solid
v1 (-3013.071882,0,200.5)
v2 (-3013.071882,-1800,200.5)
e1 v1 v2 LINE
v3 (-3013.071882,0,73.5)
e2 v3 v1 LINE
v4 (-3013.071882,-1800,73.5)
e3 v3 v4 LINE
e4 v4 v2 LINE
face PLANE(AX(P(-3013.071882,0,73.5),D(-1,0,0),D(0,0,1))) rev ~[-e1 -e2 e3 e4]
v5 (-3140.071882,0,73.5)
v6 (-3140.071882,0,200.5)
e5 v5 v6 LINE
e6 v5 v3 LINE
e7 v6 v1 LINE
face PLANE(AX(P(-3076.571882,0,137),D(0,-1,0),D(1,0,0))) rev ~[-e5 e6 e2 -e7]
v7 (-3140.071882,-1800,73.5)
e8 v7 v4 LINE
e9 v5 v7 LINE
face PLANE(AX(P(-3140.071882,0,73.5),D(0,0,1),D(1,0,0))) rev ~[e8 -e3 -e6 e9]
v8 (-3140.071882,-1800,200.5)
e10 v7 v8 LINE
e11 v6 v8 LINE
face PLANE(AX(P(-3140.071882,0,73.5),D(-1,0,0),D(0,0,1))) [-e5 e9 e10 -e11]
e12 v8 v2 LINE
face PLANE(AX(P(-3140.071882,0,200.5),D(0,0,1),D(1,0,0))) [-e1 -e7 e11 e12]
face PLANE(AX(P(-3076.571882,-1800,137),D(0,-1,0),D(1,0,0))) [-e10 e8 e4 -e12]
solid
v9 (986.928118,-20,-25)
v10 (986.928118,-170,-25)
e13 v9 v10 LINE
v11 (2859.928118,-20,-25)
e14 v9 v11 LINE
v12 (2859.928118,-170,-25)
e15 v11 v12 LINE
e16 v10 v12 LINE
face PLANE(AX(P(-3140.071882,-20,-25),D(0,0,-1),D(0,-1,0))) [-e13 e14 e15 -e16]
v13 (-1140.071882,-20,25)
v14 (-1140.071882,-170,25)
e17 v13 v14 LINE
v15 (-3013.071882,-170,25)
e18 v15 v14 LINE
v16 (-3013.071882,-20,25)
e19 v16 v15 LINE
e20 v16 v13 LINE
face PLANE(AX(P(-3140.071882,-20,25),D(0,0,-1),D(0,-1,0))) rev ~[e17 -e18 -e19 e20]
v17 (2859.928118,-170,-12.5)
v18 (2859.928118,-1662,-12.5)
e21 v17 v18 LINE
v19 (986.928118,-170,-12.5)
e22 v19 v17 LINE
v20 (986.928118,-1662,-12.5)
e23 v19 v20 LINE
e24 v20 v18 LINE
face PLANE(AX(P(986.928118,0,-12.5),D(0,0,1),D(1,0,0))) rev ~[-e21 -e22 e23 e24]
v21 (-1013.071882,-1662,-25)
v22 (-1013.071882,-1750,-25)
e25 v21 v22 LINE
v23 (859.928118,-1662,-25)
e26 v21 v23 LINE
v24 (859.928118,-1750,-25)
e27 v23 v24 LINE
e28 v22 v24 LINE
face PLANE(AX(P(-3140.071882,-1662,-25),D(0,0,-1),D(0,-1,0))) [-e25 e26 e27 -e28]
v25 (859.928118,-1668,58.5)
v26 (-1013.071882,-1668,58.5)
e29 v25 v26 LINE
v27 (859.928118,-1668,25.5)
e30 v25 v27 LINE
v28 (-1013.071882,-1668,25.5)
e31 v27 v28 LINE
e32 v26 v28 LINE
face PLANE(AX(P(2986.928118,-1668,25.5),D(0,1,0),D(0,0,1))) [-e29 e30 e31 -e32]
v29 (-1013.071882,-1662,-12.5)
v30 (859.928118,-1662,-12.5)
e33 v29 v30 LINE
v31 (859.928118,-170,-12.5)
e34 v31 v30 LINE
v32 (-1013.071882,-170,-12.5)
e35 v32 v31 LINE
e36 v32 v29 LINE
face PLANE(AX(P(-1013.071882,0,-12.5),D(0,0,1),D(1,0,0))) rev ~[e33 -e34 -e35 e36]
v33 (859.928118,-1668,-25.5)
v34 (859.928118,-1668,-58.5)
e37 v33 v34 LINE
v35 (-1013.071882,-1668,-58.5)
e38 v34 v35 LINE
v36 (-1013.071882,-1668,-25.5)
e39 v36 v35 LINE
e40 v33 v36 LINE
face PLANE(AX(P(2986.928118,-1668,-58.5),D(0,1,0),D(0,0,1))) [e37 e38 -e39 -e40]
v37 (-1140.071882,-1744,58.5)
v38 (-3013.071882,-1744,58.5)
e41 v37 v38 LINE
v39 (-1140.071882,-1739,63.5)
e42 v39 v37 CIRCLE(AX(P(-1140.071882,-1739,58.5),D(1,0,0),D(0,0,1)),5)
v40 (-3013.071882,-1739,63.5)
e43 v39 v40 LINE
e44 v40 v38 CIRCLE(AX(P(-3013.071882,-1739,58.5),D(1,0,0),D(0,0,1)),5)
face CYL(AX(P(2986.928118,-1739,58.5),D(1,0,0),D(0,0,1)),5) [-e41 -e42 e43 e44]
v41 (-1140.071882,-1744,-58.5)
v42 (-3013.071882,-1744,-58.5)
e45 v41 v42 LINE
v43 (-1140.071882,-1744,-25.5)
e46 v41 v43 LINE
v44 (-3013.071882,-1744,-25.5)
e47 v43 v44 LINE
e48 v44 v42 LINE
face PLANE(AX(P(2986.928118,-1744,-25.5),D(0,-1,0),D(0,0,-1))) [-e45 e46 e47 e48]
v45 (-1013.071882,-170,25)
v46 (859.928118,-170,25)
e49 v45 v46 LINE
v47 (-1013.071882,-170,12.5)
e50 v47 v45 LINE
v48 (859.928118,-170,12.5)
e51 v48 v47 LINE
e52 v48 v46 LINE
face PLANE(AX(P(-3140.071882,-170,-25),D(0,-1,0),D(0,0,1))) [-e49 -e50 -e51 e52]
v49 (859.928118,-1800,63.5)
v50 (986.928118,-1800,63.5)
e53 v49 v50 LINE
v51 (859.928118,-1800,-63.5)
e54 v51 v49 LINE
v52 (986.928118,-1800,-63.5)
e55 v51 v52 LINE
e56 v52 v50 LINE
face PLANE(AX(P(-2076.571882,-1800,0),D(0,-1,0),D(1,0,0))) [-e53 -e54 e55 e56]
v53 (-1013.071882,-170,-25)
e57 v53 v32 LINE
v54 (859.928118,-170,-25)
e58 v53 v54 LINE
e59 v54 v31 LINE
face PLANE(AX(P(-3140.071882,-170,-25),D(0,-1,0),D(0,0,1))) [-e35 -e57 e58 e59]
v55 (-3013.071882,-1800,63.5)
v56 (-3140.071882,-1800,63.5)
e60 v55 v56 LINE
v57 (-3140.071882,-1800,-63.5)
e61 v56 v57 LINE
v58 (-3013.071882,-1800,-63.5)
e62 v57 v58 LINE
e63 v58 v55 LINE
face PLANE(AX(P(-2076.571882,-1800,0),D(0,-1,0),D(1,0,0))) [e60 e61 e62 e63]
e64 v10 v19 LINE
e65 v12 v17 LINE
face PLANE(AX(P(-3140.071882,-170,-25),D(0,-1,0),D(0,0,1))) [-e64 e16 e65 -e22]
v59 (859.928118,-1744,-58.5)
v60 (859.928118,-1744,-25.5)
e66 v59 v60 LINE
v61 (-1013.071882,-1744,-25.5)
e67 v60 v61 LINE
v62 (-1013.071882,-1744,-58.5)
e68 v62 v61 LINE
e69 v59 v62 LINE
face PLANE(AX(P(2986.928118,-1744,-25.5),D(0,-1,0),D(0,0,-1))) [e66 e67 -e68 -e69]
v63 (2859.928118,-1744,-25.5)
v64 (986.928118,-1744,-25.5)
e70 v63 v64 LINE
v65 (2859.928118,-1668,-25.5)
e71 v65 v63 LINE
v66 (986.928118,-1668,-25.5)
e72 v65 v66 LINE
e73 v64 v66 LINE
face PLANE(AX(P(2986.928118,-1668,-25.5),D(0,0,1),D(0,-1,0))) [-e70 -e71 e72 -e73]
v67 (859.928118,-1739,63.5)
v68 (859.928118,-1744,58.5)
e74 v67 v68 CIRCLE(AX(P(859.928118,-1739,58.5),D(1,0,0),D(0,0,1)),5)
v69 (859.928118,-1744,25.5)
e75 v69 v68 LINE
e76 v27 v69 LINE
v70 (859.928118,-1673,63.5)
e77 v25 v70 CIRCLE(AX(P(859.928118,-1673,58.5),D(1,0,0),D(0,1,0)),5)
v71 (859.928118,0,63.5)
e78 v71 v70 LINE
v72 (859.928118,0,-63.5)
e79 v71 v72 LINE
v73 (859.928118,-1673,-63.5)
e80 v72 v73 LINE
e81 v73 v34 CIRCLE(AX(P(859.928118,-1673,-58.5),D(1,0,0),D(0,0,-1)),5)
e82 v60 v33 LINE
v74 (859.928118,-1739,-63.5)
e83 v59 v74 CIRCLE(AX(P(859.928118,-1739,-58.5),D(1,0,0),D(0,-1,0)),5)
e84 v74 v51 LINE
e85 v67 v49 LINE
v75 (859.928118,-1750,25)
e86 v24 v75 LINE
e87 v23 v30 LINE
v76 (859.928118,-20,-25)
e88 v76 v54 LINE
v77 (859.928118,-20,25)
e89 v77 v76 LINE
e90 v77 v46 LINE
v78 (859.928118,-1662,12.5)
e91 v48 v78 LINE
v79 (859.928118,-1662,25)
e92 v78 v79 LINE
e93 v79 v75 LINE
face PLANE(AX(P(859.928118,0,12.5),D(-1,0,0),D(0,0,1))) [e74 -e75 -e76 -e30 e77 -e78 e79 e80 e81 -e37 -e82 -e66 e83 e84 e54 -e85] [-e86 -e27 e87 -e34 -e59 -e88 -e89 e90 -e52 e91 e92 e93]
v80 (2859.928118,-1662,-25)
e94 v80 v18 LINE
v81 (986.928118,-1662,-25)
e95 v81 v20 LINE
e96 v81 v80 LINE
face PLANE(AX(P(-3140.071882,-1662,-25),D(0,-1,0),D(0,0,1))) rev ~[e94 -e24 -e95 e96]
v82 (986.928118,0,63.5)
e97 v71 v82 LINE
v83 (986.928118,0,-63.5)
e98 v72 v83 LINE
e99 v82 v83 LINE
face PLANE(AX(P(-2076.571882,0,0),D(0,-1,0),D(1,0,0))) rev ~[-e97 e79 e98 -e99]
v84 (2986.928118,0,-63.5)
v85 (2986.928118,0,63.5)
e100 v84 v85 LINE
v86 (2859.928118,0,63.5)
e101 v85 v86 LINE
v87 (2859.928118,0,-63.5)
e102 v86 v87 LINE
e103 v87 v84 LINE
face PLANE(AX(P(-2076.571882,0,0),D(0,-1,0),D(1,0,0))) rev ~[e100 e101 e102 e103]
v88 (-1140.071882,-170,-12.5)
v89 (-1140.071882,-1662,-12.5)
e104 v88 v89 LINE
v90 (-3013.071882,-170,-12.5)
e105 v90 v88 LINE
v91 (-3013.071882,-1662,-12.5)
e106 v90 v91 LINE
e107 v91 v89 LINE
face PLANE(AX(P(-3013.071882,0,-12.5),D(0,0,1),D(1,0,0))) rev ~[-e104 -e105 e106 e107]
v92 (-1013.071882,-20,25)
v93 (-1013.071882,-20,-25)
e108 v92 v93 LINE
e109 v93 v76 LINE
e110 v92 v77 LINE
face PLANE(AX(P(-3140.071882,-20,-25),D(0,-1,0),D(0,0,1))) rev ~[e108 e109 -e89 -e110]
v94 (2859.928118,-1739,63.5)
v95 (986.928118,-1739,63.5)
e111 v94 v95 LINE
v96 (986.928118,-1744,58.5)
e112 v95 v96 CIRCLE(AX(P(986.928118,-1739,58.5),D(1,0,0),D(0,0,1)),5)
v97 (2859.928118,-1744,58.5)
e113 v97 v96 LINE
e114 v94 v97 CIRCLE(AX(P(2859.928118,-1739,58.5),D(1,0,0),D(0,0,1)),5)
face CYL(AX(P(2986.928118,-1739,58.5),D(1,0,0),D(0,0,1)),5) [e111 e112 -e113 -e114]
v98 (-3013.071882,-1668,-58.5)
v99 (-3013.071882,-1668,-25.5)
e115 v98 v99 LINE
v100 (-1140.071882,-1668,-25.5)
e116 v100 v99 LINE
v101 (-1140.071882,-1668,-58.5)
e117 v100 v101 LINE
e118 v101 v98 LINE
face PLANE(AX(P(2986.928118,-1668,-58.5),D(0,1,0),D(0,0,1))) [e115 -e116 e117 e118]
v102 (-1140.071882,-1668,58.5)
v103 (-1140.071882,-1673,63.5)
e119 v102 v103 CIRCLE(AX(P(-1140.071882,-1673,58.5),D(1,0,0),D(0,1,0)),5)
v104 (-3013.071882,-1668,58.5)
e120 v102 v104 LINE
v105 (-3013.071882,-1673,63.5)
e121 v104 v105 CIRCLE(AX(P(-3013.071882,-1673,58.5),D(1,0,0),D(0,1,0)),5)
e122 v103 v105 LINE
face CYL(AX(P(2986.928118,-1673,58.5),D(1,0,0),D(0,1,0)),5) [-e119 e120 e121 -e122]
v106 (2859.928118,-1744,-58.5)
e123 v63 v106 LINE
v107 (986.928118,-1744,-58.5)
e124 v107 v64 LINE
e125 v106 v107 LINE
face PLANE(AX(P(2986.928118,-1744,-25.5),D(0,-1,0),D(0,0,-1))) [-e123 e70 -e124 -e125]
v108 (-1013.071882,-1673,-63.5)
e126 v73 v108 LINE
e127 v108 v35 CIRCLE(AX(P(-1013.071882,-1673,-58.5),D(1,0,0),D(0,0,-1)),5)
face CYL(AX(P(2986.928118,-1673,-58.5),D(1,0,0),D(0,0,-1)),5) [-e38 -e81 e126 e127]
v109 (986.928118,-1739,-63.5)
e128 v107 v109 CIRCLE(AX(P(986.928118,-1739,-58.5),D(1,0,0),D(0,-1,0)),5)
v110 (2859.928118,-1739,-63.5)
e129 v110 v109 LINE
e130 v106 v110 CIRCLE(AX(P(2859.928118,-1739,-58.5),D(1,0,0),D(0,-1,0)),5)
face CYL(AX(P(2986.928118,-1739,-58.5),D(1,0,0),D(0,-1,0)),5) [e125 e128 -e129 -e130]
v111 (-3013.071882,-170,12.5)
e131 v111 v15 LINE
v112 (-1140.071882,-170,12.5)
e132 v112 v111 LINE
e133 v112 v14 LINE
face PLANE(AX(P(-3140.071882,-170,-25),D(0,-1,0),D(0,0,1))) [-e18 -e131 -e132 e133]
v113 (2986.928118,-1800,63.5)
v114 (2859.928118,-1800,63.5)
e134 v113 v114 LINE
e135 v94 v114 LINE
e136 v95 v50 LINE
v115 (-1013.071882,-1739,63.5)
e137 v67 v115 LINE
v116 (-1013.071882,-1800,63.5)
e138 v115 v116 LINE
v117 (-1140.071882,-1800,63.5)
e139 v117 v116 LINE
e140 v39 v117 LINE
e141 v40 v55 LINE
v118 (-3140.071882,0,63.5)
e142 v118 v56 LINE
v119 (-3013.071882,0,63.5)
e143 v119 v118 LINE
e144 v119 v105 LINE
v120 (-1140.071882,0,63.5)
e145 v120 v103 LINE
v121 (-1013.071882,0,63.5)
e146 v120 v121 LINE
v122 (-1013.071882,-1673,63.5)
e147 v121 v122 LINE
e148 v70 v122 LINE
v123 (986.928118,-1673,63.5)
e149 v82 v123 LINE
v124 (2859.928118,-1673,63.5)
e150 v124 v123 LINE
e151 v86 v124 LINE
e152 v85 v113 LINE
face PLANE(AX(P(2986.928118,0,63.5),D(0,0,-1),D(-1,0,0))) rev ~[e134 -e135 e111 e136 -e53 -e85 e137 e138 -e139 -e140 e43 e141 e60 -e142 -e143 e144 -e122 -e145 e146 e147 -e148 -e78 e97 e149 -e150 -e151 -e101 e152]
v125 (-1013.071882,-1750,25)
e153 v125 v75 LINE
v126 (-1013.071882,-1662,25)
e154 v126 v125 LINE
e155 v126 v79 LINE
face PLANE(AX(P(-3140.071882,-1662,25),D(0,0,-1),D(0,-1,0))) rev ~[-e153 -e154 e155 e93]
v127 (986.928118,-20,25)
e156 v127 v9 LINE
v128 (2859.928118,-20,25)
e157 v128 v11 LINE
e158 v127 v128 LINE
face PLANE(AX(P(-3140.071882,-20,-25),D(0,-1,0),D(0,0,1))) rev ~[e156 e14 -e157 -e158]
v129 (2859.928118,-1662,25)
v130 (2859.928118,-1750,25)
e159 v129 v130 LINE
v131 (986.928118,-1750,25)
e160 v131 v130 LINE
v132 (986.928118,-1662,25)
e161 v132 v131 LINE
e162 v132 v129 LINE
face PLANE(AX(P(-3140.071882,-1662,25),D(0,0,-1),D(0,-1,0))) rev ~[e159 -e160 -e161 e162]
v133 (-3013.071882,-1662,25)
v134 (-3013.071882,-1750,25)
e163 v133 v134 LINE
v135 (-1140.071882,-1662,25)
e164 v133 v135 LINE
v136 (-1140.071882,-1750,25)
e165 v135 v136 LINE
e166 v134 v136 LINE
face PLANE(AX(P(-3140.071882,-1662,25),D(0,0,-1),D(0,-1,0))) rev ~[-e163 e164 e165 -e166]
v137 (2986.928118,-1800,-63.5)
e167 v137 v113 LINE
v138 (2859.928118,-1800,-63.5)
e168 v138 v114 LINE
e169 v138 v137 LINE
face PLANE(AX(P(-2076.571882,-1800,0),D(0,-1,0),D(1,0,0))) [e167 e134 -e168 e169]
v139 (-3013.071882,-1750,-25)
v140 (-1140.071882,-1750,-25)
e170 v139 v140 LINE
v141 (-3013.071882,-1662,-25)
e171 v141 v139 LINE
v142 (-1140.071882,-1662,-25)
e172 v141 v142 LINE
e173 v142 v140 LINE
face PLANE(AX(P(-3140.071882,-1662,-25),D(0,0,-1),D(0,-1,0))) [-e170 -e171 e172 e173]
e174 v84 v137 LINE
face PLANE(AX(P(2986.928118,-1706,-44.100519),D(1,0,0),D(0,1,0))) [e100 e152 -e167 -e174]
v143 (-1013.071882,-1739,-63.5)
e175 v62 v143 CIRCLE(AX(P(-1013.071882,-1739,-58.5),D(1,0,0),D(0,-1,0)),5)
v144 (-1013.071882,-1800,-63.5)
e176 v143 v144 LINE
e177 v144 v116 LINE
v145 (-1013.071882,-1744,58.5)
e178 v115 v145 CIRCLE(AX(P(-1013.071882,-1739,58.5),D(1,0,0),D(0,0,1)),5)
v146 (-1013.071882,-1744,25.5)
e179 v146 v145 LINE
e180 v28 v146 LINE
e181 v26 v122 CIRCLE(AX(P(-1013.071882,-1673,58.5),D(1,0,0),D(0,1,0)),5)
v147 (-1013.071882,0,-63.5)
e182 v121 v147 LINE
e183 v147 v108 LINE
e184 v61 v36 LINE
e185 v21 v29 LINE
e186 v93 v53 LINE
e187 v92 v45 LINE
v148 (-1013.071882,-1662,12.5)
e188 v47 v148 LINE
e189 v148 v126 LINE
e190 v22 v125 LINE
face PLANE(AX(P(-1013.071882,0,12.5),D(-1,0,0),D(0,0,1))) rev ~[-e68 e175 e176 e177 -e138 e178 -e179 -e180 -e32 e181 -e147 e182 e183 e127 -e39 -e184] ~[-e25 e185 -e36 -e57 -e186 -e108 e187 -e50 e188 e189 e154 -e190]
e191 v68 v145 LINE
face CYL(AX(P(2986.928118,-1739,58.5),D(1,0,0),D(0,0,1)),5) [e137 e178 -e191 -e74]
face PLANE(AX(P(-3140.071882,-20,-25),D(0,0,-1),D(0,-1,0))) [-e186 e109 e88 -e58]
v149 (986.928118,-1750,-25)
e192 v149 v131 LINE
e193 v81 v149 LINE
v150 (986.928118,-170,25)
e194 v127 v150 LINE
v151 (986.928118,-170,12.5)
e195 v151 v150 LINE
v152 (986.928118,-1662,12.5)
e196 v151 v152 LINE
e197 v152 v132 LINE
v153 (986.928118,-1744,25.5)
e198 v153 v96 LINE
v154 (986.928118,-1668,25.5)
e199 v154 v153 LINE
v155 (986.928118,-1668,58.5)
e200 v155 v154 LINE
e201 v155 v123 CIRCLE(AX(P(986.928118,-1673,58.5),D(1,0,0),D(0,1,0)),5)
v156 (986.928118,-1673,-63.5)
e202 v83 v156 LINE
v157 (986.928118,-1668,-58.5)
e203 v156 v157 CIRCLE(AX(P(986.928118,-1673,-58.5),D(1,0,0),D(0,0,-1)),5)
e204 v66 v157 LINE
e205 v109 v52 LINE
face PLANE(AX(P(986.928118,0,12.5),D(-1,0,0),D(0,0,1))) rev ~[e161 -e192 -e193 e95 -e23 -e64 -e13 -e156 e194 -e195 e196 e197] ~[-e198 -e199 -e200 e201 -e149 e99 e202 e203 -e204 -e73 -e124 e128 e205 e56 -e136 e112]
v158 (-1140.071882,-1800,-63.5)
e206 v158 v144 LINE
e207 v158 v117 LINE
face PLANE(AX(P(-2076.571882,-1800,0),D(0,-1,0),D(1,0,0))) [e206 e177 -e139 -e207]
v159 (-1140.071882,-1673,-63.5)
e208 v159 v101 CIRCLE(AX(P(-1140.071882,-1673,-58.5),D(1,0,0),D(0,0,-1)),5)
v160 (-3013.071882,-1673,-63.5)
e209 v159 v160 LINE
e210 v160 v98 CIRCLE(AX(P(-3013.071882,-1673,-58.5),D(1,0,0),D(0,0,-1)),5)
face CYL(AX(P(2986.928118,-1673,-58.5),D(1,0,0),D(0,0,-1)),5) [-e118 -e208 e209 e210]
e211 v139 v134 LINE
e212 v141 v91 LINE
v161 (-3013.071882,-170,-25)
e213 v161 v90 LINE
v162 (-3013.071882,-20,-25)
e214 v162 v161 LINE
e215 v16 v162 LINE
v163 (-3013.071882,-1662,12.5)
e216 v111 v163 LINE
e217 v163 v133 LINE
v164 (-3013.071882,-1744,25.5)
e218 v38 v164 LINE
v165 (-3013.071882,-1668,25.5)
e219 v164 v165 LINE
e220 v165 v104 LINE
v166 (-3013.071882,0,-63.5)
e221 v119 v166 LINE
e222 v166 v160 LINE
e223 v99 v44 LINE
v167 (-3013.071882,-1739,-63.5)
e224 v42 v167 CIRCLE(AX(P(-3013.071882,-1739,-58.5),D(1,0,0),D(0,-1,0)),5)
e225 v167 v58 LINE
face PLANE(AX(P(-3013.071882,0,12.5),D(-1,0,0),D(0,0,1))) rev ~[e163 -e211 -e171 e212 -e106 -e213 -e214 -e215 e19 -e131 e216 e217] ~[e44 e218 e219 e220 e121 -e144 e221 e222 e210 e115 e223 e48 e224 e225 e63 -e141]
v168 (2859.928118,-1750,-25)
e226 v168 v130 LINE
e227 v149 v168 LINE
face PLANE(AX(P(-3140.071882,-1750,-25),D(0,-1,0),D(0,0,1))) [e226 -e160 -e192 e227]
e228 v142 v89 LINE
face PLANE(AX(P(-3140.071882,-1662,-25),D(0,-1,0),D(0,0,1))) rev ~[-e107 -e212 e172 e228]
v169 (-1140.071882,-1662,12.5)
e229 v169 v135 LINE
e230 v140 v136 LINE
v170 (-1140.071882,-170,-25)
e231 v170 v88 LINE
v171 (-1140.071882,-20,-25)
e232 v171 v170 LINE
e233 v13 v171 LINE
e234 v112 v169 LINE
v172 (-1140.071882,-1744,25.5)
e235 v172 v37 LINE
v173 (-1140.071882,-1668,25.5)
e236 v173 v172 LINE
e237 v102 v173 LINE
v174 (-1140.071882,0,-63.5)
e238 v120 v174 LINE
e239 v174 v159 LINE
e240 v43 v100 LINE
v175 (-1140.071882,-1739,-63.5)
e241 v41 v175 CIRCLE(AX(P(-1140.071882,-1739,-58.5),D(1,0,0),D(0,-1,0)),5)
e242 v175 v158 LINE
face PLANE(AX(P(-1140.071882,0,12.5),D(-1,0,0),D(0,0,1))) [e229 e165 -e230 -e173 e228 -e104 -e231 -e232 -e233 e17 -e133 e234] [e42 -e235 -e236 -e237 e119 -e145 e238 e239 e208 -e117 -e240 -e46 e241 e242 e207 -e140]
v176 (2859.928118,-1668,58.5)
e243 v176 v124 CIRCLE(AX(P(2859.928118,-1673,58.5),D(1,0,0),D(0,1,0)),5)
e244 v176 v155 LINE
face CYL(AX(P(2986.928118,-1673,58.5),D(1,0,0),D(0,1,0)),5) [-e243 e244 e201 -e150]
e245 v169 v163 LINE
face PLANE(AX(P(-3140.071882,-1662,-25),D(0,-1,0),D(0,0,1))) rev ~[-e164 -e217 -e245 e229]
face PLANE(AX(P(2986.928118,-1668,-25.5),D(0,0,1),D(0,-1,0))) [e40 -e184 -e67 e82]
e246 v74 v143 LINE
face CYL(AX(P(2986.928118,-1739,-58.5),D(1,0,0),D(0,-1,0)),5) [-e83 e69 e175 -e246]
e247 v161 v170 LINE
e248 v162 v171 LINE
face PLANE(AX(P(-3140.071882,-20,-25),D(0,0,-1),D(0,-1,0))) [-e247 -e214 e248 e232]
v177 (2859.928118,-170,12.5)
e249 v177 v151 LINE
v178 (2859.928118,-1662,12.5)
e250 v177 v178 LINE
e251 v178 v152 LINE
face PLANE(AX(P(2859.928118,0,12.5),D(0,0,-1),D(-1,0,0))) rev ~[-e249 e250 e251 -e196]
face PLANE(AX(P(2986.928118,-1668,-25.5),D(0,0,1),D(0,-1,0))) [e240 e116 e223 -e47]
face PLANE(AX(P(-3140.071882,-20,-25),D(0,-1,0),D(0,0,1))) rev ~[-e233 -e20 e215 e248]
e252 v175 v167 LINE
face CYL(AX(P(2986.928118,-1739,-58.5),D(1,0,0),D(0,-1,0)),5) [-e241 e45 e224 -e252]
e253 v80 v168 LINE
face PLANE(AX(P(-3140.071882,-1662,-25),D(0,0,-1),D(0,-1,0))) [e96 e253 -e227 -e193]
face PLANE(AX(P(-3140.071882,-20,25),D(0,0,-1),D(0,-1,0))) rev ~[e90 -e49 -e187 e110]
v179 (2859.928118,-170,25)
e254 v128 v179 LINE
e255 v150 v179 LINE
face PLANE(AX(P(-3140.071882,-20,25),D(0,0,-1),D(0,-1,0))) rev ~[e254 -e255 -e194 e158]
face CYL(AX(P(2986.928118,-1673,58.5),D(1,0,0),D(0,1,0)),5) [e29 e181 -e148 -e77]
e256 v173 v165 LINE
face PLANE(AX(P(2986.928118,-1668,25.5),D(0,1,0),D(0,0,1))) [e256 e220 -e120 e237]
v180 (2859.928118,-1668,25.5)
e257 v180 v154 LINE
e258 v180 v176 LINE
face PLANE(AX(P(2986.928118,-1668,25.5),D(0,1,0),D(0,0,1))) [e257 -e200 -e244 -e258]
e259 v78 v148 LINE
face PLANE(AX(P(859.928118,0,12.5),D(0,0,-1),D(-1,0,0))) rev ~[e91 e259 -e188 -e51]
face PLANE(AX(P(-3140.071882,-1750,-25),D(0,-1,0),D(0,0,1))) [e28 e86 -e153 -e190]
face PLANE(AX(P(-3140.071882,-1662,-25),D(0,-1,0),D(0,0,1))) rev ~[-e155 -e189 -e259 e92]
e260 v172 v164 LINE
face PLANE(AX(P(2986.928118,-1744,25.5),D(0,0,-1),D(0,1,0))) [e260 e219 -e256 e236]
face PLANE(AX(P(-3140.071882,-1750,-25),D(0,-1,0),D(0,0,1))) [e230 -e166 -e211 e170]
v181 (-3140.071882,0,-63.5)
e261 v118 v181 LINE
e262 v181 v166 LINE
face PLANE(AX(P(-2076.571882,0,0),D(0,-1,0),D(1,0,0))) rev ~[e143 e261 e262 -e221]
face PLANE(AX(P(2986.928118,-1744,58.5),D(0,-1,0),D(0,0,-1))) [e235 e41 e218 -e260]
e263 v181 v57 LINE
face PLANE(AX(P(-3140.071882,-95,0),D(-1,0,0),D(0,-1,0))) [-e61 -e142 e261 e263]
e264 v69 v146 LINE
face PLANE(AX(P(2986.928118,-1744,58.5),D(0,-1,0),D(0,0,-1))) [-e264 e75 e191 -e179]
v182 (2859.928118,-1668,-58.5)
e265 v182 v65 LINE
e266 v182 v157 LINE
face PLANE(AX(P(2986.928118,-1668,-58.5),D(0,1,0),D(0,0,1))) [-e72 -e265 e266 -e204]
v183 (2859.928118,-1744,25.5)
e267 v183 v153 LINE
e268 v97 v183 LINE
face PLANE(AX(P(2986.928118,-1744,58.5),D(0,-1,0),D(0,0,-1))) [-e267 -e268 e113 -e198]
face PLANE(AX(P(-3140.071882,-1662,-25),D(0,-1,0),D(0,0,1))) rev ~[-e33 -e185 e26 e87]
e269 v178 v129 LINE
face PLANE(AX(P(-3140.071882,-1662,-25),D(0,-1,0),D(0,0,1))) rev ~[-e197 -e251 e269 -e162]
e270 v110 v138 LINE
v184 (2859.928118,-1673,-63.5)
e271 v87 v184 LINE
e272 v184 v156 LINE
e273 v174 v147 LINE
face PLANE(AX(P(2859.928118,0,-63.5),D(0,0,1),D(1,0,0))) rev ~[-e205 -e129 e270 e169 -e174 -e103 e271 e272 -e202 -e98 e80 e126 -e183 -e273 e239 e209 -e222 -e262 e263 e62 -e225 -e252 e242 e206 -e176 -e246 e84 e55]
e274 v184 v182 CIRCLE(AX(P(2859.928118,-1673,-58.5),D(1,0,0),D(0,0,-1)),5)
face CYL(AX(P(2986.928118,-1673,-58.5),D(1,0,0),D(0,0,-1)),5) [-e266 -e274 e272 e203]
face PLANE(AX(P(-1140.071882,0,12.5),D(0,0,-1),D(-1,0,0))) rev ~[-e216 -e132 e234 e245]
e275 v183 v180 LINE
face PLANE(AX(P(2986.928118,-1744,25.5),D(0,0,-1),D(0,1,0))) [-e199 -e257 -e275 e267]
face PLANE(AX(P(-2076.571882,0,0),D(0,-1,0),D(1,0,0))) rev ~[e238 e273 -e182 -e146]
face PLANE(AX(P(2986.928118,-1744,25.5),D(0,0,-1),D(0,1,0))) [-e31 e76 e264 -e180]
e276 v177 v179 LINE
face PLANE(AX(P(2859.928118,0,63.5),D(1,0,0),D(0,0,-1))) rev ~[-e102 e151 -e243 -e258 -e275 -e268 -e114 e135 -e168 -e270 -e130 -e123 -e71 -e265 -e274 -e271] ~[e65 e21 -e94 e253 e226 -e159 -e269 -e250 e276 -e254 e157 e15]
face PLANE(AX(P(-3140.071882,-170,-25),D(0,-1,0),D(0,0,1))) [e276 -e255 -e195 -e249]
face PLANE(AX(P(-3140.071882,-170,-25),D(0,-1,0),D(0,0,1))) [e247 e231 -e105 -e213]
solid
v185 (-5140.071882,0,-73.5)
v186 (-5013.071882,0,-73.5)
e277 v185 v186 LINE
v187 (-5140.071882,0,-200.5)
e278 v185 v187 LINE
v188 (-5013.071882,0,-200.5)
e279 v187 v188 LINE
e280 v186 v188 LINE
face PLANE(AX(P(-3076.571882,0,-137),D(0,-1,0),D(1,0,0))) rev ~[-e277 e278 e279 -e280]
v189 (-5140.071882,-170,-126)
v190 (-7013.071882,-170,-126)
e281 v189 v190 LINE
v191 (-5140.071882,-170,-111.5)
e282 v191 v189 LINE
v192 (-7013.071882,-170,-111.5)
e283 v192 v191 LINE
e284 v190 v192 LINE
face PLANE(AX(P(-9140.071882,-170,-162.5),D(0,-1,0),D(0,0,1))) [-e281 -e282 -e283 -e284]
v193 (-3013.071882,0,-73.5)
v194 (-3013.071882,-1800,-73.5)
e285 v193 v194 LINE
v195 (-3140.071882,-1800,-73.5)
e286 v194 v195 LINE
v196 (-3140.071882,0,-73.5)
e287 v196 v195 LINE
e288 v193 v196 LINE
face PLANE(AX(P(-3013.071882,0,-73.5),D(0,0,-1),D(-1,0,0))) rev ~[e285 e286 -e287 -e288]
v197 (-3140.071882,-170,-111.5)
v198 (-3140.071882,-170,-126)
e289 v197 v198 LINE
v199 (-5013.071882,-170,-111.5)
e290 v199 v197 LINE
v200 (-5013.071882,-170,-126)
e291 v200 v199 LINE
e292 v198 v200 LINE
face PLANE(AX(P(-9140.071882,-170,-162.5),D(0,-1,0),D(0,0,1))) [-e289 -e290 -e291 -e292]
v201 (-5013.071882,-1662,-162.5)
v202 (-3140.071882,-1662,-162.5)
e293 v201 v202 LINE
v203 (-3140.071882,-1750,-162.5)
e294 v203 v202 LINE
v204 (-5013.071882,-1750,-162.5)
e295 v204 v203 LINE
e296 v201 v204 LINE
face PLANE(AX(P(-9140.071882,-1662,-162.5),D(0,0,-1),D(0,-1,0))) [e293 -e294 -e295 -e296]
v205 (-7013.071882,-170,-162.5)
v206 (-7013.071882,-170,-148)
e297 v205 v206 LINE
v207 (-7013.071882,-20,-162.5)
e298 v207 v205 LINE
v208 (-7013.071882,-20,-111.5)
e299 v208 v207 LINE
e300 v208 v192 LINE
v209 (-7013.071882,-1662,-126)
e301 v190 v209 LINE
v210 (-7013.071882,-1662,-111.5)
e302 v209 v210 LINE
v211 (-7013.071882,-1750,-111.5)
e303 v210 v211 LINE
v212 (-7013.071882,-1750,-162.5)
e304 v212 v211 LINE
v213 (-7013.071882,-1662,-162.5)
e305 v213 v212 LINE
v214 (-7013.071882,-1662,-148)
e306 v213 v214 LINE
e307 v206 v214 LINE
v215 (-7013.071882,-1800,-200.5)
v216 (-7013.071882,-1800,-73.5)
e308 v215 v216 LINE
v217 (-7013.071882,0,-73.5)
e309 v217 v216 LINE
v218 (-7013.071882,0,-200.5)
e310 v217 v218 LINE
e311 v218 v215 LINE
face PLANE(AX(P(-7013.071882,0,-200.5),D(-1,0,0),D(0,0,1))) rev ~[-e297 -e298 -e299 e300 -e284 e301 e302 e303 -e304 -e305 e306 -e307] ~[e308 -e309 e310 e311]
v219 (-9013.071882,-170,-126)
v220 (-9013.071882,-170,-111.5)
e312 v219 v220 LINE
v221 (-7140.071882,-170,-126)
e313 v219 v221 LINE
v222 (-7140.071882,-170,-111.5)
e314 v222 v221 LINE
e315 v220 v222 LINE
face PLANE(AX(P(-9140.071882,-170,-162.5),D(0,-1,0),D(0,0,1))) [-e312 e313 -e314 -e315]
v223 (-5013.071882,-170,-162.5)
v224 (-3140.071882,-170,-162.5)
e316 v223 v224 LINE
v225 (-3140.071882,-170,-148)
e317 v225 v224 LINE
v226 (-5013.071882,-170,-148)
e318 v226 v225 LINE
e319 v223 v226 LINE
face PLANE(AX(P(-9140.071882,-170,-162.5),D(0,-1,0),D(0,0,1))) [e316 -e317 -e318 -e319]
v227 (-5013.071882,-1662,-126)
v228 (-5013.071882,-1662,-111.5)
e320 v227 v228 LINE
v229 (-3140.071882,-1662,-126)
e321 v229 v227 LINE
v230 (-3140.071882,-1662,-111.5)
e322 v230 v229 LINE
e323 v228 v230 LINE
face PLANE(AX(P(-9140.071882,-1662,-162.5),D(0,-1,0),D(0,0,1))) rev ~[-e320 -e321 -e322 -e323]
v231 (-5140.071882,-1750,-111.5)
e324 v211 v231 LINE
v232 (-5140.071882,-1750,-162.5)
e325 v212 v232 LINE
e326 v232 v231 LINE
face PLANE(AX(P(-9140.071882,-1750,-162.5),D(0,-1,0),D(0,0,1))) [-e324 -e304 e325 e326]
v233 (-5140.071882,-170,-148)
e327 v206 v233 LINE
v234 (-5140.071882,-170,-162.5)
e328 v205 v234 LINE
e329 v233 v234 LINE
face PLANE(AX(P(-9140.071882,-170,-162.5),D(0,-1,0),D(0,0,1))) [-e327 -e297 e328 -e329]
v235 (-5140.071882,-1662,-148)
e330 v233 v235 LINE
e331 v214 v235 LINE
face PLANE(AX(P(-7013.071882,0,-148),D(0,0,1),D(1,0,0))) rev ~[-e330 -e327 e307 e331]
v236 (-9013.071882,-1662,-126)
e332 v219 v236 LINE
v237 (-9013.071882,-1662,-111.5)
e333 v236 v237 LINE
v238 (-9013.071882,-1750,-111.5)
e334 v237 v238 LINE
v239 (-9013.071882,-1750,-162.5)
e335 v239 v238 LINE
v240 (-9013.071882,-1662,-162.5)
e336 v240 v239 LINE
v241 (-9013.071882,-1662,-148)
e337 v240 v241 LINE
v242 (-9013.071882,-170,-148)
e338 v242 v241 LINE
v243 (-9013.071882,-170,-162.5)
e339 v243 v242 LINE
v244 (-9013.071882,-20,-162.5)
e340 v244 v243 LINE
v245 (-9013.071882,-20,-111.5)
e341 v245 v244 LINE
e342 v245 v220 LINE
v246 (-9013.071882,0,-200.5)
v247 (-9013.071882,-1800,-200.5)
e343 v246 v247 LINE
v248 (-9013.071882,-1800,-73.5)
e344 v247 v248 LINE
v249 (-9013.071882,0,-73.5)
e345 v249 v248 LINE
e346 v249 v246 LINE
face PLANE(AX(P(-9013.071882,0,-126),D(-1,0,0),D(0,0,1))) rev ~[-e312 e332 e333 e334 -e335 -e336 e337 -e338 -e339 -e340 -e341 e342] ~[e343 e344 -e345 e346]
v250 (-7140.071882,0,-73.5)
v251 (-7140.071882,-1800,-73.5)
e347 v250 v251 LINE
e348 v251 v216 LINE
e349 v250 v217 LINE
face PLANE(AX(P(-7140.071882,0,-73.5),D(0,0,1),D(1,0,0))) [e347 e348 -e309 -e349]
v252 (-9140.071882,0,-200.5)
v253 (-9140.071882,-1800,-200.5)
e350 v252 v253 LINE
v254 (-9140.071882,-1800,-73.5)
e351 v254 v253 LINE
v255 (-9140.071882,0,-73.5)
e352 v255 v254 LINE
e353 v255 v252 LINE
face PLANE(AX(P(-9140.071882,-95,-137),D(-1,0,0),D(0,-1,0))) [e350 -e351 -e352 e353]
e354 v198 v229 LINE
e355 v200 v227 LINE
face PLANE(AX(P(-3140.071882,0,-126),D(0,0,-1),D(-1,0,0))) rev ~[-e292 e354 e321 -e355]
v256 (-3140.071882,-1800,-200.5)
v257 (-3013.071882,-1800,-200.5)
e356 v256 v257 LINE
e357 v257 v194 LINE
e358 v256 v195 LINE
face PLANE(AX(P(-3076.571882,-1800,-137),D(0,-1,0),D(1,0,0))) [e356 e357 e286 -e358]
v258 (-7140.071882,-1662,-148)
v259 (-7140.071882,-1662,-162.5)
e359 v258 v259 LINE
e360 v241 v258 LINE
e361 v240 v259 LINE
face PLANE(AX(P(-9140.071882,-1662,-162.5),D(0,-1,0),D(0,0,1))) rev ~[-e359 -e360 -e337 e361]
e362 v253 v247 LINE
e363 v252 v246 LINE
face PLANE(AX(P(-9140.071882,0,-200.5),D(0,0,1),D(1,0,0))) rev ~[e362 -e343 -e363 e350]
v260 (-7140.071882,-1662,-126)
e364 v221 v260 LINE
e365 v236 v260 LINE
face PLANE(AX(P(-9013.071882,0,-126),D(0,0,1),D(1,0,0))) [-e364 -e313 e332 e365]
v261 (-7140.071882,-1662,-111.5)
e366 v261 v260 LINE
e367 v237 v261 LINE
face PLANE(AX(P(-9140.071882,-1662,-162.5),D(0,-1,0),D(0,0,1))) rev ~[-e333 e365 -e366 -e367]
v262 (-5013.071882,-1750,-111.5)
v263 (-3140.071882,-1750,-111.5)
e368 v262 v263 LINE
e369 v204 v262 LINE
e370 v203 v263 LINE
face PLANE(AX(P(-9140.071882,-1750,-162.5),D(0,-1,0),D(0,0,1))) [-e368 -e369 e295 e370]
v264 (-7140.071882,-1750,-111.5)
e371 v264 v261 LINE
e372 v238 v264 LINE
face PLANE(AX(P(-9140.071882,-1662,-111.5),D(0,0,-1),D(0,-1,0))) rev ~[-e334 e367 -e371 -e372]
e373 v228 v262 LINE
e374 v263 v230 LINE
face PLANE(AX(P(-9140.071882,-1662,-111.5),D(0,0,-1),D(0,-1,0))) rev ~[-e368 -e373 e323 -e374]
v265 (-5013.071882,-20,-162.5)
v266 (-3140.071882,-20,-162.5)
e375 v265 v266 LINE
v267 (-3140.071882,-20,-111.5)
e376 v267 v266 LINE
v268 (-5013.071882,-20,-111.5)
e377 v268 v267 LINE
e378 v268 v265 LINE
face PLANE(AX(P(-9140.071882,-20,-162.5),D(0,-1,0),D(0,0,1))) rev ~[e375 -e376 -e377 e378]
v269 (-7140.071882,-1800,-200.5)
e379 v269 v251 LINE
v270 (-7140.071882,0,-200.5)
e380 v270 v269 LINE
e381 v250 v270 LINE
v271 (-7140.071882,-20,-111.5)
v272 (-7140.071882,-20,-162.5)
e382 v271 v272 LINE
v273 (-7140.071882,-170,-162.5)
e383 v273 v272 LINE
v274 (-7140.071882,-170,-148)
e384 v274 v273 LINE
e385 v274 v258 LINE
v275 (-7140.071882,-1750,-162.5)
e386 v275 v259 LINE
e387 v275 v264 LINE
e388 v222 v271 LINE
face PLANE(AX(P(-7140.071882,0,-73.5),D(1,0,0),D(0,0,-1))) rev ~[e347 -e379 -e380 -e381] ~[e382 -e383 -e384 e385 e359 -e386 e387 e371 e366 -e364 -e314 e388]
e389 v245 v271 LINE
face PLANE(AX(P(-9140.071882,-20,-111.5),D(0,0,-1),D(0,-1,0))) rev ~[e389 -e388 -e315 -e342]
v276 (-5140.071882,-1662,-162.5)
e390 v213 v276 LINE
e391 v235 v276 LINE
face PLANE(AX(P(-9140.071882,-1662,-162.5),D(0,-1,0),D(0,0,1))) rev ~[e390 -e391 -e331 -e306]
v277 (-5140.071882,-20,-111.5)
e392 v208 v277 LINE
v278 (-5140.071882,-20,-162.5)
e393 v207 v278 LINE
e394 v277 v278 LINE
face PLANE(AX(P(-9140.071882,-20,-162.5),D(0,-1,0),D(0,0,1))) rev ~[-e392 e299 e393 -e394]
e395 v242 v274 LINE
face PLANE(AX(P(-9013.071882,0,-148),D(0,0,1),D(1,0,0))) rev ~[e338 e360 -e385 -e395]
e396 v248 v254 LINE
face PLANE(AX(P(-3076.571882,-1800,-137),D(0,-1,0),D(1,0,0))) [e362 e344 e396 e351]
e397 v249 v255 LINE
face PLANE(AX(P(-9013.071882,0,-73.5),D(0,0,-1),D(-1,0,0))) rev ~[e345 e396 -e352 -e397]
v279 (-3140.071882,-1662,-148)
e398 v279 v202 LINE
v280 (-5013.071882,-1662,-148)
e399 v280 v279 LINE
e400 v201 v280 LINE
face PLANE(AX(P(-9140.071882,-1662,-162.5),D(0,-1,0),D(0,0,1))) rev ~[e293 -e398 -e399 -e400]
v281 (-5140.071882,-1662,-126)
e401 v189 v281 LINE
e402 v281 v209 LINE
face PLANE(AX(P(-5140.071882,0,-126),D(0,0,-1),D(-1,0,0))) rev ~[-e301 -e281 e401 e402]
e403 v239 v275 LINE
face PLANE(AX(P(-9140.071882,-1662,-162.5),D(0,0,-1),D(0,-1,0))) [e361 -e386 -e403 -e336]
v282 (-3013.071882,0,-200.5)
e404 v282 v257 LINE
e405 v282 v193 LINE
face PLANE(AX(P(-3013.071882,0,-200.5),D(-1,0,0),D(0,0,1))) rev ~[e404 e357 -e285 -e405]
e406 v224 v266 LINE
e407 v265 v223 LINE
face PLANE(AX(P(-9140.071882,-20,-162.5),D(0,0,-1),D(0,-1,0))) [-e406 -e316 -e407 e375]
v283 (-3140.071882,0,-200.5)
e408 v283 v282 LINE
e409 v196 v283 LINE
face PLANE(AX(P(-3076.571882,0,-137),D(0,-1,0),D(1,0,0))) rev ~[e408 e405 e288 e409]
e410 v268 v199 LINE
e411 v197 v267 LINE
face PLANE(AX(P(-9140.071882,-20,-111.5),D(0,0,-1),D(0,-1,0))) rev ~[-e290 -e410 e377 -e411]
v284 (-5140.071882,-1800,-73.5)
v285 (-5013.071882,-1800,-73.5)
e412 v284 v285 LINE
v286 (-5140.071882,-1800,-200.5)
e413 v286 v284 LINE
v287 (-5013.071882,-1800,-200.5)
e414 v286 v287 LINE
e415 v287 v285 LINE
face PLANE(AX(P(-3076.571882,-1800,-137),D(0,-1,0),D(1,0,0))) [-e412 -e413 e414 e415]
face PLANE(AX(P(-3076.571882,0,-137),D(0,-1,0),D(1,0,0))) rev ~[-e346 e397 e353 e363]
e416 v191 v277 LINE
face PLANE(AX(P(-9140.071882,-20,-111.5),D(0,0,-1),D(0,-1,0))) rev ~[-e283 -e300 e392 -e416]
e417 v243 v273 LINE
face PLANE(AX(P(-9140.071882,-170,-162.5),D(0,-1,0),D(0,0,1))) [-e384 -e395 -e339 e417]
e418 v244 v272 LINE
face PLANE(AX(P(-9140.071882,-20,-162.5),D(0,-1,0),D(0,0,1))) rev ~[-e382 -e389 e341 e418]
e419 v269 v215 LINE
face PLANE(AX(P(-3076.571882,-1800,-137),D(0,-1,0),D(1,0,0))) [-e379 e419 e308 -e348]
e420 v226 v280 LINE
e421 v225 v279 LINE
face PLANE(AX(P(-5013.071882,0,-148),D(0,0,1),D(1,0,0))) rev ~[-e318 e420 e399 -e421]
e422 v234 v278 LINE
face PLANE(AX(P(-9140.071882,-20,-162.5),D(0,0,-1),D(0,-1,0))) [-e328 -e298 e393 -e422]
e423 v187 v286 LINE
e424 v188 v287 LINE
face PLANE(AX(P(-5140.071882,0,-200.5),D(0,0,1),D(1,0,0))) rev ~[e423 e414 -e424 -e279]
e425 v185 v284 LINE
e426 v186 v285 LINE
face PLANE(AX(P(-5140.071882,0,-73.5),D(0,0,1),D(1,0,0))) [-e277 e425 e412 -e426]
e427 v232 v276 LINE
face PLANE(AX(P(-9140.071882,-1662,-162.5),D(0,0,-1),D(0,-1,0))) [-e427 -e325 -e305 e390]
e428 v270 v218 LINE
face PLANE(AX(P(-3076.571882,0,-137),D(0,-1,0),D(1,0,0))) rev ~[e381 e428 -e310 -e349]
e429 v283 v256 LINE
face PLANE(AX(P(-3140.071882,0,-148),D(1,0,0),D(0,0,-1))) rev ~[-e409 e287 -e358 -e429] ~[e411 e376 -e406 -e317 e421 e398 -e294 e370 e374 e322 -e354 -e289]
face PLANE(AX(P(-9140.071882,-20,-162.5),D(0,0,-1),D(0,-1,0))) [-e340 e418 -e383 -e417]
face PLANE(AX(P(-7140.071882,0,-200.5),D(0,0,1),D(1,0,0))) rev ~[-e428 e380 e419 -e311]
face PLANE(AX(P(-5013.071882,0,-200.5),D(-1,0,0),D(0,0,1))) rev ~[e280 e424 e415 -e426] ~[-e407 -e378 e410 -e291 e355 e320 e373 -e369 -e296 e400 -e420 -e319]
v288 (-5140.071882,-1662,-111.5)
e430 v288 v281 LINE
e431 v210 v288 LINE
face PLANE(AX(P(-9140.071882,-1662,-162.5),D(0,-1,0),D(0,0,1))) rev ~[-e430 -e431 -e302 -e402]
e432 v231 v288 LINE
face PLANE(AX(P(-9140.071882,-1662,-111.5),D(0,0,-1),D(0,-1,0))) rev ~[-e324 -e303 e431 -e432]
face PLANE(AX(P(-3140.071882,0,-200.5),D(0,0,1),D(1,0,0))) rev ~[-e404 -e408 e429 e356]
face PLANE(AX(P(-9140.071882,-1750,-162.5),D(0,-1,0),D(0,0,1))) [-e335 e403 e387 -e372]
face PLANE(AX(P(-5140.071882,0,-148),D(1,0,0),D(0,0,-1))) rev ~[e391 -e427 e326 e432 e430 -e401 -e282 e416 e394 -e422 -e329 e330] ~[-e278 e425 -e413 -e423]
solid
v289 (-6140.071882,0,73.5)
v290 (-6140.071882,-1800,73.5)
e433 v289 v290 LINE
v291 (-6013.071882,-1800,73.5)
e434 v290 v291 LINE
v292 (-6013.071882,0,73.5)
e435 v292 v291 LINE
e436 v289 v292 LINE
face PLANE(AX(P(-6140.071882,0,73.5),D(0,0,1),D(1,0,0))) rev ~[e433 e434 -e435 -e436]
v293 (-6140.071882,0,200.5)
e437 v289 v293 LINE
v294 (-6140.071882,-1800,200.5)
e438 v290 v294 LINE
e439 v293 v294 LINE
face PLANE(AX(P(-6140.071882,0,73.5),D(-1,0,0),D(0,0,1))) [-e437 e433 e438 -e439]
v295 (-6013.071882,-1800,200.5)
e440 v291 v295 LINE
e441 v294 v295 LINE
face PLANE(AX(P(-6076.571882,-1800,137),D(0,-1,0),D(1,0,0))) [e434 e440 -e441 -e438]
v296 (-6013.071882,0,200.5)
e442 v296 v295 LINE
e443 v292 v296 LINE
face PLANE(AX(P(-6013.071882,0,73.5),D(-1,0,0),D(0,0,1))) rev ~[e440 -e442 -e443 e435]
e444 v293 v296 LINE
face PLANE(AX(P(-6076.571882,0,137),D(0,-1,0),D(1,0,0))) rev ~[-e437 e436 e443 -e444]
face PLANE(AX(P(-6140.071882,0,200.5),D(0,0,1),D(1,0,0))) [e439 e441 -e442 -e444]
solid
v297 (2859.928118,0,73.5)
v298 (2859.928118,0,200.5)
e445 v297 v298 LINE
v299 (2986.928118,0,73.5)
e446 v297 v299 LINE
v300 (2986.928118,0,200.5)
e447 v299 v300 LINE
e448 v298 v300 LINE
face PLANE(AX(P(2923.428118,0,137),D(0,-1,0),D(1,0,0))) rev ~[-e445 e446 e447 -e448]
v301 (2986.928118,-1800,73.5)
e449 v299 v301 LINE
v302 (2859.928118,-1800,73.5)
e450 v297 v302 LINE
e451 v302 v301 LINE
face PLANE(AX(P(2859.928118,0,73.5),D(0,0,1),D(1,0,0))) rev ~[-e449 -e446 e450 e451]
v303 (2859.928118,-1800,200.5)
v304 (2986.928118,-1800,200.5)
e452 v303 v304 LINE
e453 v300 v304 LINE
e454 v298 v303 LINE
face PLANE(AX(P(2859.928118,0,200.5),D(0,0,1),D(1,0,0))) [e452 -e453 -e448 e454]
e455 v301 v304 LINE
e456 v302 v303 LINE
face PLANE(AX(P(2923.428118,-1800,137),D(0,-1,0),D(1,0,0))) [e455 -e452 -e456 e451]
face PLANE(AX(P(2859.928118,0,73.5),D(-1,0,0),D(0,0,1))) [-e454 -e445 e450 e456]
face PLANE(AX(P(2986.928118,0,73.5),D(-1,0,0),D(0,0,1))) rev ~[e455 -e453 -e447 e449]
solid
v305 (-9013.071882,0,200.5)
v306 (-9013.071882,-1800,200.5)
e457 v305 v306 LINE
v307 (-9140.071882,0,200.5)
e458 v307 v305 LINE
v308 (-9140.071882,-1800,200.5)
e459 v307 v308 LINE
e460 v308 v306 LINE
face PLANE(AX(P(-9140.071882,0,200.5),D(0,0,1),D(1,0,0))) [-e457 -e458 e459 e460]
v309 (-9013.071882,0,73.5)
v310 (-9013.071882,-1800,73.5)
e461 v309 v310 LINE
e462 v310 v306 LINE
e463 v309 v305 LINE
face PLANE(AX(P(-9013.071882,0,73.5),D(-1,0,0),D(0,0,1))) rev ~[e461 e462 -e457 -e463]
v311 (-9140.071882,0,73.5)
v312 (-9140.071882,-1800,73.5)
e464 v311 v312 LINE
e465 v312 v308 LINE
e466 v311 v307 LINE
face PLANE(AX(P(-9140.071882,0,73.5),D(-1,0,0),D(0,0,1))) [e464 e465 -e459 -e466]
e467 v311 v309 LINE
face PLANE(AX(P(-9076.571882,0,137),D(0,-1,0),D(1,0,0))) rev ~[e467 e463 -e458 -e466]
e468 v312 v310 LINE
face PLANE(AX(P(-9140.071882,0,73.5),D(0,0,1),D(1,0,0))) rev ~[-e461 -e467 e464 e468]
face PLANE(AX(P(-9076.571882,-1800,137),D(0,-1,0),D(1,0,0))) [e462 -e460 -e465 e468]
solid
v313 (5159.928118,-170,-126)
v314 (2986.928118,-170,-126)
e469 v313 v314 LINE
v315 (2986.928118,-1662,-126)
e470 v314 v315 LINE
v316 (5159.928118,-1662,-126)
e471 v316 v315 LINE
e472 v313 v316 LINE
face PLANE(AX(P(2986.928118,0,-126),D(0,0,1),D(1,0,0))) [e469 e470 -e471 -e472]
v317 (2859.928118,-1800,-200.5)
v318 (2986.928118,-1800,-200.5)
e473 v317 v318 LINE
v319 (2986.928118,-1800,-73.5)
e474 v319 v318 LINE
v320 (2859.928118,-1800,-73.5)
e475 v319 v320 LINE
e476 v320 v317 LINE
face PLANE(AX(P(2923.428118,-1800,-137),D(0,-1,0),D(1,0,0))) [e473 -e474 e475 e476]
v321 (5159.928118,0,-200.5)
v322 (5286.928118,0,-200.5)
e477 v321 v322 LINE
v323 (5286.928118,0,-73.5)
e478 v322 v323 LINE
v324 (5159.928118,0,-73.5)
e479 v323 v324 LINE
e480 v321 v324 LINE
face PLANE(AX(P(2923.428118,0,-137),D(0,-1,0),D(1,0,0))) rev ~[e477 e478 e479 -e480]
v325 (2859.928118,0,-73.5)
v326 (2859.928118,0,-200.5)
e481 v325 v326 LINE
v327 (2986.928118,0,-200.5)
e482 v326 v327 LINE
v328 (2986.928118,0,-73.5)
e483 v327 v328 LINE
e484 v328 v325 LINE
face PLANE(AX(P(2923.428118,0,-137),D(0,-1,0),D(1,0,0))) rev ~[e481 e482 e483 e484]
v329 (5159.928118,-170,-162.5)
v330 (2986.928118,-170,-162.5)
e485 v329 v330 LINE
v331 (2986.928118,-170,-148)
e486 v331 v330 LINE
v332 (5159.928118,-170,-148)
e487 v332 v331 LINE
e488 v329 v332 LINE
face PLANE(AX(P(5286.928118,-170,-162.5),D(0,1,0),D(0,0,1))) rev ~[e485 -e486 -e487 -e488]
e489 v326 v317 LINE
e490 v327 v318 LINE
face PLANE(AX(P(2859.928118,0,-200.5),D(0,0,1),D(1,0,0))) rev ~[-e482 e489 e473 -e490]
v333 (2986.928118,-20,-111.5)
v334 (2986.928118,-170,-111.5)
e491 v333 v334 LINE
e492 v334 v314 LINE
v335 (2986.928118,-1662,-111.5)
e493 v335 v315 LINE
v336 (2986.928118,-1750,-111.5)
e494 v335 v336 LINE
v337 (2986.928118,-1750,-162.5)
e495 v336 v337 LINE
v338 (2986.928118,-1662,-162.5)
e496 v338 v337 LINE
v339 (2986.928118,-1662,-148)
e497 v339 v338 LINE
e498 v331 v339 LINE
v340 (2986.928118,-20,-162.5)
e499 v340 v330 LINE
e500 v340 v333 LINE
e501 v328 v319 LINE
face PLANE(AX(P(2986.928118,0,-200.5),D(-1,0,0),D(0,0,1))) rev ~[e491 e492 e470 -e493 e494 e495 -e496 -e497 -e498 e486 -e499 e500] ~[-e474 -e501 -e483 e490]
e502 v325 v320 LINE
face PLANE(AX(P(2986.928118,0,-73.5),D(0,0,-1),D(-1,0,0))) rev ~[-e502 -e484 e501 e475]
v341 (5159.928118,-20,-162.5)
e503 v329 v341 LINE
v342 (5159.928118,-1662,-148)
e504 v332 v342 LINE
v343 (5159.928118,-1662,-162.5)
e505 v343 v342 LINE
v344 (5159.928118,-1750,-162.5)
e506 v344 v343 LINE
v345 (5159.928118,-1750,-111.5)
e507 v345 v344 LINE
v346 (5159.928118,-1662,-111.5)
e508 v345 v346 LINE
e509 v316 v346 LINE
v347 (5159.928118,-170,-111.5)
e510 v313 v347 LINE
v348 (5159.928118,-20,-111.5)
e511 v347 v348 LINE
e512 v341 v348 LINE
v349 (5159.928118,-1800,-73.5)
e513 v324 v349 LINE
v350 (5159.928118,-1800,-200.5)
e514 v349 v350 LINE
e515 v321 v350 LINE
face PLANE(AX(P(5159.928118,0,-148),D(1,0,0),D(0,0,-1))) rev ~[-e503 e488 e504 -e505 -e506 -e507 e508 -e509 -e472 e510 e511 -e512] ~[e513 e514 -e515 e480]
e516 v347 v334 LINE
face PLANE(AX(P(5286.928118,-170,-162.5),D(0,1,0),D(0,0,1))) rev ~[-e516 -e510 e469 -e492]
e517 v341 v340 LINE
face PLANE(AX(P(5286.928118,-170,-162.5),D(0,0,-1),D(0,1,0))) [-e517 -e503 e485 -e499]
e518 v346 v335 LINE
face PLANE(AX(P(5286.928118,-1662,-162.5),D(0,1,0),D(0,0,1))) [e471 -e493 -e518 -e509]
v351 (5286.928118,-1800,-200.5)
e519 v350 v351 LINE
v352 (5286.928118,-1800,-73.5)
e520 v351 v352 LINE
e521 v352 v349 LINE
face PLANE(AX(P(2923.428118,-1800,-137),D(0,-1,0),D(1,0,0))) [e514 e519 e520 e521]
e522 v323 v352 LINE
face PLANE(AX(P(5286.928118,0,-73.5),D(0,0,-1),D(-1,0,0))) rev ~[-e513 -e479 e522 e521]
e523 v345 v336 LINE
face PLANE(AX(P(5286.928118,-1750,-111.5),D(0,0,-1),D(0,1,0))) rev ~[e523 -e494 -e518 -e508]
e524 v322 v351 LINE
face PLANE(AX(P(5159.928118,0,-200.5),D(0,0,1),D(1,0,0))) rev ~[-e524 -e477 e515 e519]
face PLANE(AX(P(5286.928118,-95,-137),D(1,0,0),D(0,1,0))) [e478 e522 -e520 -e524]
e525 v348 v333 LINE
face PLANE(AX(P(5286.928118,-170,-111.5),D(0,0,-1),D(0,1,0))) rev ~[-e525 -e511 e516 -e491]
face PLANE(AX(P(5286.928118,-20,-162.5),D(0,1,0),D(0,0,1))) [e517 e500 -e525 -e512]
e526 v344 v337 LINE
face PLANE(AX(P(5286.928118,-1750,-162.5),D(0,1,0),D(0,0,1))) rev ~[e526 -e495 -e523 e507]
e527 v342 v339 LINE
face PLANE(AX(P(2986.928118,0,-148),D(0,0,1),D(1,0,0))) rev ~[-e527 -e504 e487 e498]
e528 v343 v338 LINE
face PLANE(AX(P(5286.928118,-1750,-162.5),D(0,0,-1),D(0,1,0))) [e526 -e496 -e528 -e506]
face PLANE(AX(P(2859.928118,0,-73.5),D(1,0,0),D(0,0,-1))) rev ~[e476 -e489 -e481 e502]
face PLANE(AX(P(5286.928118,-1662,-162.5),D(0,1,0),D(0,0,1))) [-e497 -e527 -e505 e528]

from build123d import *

# Parameters (mm, degrees)
F0_W        = 1873
F0_H        = 25
F0_W_2      = 63.5
F0_W_3      = 127
F0_H_2      = 51
F1_DEPTH    = 1800
F2_W        = 150
F2_H        = 50
F2_W_2      = 88
F3_DEPTH    = 6000
F4_DEPTH    = 50
F0_H_3      = 127
F5_DEPTH    = 1800
F0_H_4      = 22
F0_H_5      = 52.5
F0_W_4      = 2173
F6_W        = 150
F6_H        = 51
F6_W_2      = 88
F7_DEPTH    = 2370
F8_W        = 150
F8_H        = 51
F8_W_2      = 88
F9_DEPTH    = 6090
F7_FACE_W   = 2173
F7_FACE_H   = 50
F7_FACE_H_2 = 20
F9_FACE_W   = 1873
F9_FACE_H   = 50
F9_FACE_H_2 = 20
F10_DEPTH   = 50
F12_DEPTH   = 6000


with BuildPart() as f1:
    # F0 (on Front) → F1 (new body)
    with BuildSketch(Plane.XZ):
        with Locations((-2076.5718817711, 0)):
            Rectangle(F0_W, F0_H)
        with Locations((-3044.8218817711, 0)):
            Rectangle(F0_W_2, F0_H)
        with Locations((-1076.5718817711, 0)):
            Rectangle(F0_W_3, F0_H)
        with Locations((-76.5718817711, 0)):
            Rectangle(F0_W, F0_H)
        with Locations((923.4281182289, 0)):
            Rectangle(F0_W_3, F0_H)
        with Locations((1923.4281182289, 0)):
            Rectangle(F0_W, F0_H)
        with Locations((2891.6781182289, 0)):
            Rectangle(F0_W_2, F0_H)
        Polygon((-3013.0718817711, -63.5), (-3013.0718817711, -12.5), (-3076.5718817711, -12.5), (-3076.5718817711, 12.5), (-3013.0718817711, 12.5), (-3013.0718817711, 63.5), (-3140.0718817711, 63.5), (-3140.0718817711, -63.5), align=None)
        with Locations((-1076.5718817711, -38)):
            Rectangle(F0_W_3, F0_H_2)
        with Locations((-1076.5718817711, 38)):
            Rectangle(F0_W_3, F0_H_2)
        with Locations((923.4281182289, -38)):
            Rectangle(F0_W_3, F0_H_2)
        with Locations((923.4281182289, 38)):
            Rectangle(F0_W_3, F0_H_2)
        Polygon((2923.4281182289, 12.5), (2923.4281182289, -12.5), (2859.9281182289, -12.5), (2859.9281182289, -63.5), (2986.9281182289, -63.5), (2986.9281182289, 63.5), (2859.9281182289, 63.5), (2859.9281182289, 12.5), align=None)
    extrude(amount=F1_DEPTH)

    # F2 (on face) → F3 (join)
    with BuildSketch(Plane(origin=(-3140.0718817711, 0, 0), x_dir=(0, -1, 0), z_dir=(-1, 0, 0))):
        with Locations((95, 0)):
            Rectangle(F2_W, F2_H)
        with Locations((1706, 0)):
            Rectangle(F2_W_2, F2_H)
    extrude(amount=-F3_DEPTH)

    # F4 (cut): faces of the model
    f4_faces = [f1.faces().sort_by_distance(p)[0] for p in [
        (1923.4281182289, -1775, 12.5),
        (-76.5718817711, -1775, 12.5),
        (-2076.5718817711, -1775, 12.5),
        (-2076.5718817711, -10, 12.5),
        (-76.5718817711, -10, 12.5),
        (1923.4281182289, -10, 12.5),
    ]]
    extrude(f4_faces, amount=-F4_DEPTH, mode=Mode.SUBTRACT)

    # F11 (on face) → F12 (join)
    with BuildSketch(Plane.YZ.offset(2986.9281182289)):
        with BuildLine():
            Line((-1668, -58.5), (-1668, -25.5))
            Line((-1668, -25.5), (-1744, -25.5))
            Line((-1744, -25.5), (-1744, -58.5))
            ThreePointArc((-1744, -58.5), (-1742.5355339059, -62.0355339059), (-1739, -63.5))
            Line((-1739, -63.5), (-1673, -63.5))
            ThreePointArc((-1673, -63.5), (-1669.4644660941, -62.0355339059), (-1668, -58.5))
        make_face()
        with BuildLine():
            Line((-1744, 25.5), (-1668, 25.5))
            Line((-1668, 25.5), (-1668, 58.5))
            ThreePointArc((-1668, 58.5), (-1669.4644660941, 62.0355339059), (-1673, 63.5))
            Line((-1673, 63.5), (-1739, 63.5))
            ThreePointArc((-1739, 63.5), (-1742.5355339059, 62.0355339059), (-1744, 58.5))
            Line((-1744, 58.5), (-1744, 25.5))
        make_face()
    extrude(amount=-F12_DEPTH)


with BuildPart() as f5:
    # F0 (on Front) → F5 (new body)
    with BuildSketch(Plane.XZ):
        with Locations((-3076.5718817711, 137)):
            Rectangle(F0_W_3, F0_H_3)
    extrude(amount=F5_DEPTH)


with BuildPart() as f5b:
    # F0 (on Front) → F5, piece 2 (new body)
    with BuildSketch(Plane.XZ):
        Polygon((-3140.0718817711, -200.5), (-3013.0718817711, -200.5), (-3013.0718817711, -73.5), (-3140.0718817711, -73.5), (-3140.0718817711, -126), (-3140.0718817711, -148), align=None)
        with Locations((-4076.5718817711, -137)):
            Rectangle(F0_W, F0_H_4)
        with Locations((-5076.5718817711, -174.25)):
            Rectangle(F0_W_3, F0_H_5)
        with Locations((-5076.5718817711, -137)):
            Rectangle(F0_W_3, F0_H_4)
        with Locations((-5076.5718817711, -99.75)):
            Rectangle(F0_W_3, F0_H_5)
        with Locations((-6076.5718817711, -137)):
            Rectangle(F0_W, F0_H_4)
        with Locations((-7076.5718817711, -174.25)):
            Rectangle(F0_W_3, F0_H_5)
        with Locations((-7076.5718817711, -137)):
            Rectangle(F0_W_3, F0_H_4)
        with Locations((-7076.5718817711, -99.75)):
            Rectangle(F0_W_3, F0_H_5)
        with Locations((-8076.5718817711, -137)):
            Rectangle(F0_W, F0_H_4)
        Polygon((-9013.0718817711, -200.5), (-9013.0718817711, -148), (-9013.0718817711, -126), (-9013.0718817711, -73.5), (-9140.0718817711, -73.5), (-9140.0718817711, -200.5), align=None)
    extrude(amount=F5_DEPTH)

    # F8 (on face) → F9 (join)
    with BuildSketch(Plane(origin=(-9140.0718817711, 0, 0), x_dir=(0, -1, 0), z_dir=(-1, 0, 0))):
        with Locations((95, -137)):
            Rectangle(F8_W, F8_H)
        with Locations((1706, -137)):
            Rectangle(F8_W_2, F8_H)
    extrude(amount=-F9_DEPTH)


with BuildPart() as f5c:
    # F0 (on Front) → F5, piece 3 (new body)
    with BuildSketch(Plane.XZ):
        with Locations((-6076.5718817711, 137)):
            Rectangle(F0_W_3, F0_H_3)
    extrude(amount=F5_DEPTH)


with BuildPart() as f5d:
    # F0 (on Front) → F5, piece 4 (new body)
    with BuildSketch(Plane.XZ):
        with Locations((-9076.5718817711, 137)):
            Rectangle(F0_W_3, F0_H_3)
    extrude(amount=F5_DEPTH)


with BuildPart() as f5e:
    # F0 (on Front) → F5, piece 5 (new body)
    with BuildSketch(Plane.XZ):
        Polygon((2859.9281182289, -200.5), (2986.9281182289, -200.5), (2986.9281182289, -148), (2986.9281182289, -126), (2986.9281182289, -73.5), (2859.9281182289, -73.5), align=None)
        with Locations((4073.4281182289, -137)):
            Rectangle(F0_W_4, F0_H_4)
        Polygon((5159.9281182289, -126), (5159.9281182289, -148), (5159.9281182289, -200.5), (5286.9281182289, -200.5), (5286.9281182289, -73.5), (5159.9281182289, -73.5), align=None)
    extrude(amount=F5_DEPTH)

    # F6 (on face) → F7 (join)
    with BuildSketch(Plane.YZ.offset(5286.9281182289)):
        with Locations((-95, -137)):
            Rectangle(F6_W, F6_H)
        with Locations((-1706, -137)):
            Rectangle(F6_W_2, F6_H)
    extrude(amount=-F7_DEPTH)


with BuildPart() as f5f:
    # F0 (on Front) → F5, piece 6 (new body)
    with BuildSketch(Plane.XZ):
        with Locations((2923.4281182289, 137)):
            Rectangle(F0_W_3, F0_H_3)
    extrude(amount=F5_DEPTH)


with BuildPart() as f10_tool:
    # F7_face (on face) + F9_face (on face) → F10 (new body)
    with BuildSketch(Plane(origin=(4073.4281182289, -1775, -148), x_dir=(1, 0, 0), z_dir=(0, 0, -1))):
        Rectangle(F7_FACE_W, F7_FACE_H)
        with Locations((0, -1765)):
            Rectangle(F7_FACE_W, F7_FACE_H_2)
    with BuildSketch(Plane(origin=(-4076.5718817711, -1775, -148), x_dir=(1, 0, 0), z_dir=(0, 0, -1))):
        Rectangle(F9_FACE_W, F9_FACE_H)
        with Locations((-2000, 0)):
            Rectangle(F9_FACE_W, F9_FACE_H)
        with Locations((-4000, 0)):
            Rectangle(F9_FACE_W, F9_FACE_H)
        with Locations((-4000, -1765)):
            Rectangle(F9_FACE_W, F9_FACE_H_2)
        with Locations((-2000, -1765)):
            Rectangle(F9_FACE_W, F9_FACE_H_2)
        with Locations((0, -1765)):
            Rectangle(F9_FACE_W, F9_FACE_H_2)
    extrude(amount=-F10_DEPTH)


with BuildPart() as f5b_1:
    add(f5b.part)

    # F10: cut by f10_tool
    add(f10_tool.part, mode=Mode.SUBTRACT)


with BuildPart() as f5e_1:
    add(f5e.part)

    # F10: cut by f10_tool
    add(f10_tool.part, mode=Mode.SUBTRACT)


solid = Compound([f1.part, f5.part, f5c.part, f5d.part, f5f.part, f5b_1.part, f5e_1.part])
